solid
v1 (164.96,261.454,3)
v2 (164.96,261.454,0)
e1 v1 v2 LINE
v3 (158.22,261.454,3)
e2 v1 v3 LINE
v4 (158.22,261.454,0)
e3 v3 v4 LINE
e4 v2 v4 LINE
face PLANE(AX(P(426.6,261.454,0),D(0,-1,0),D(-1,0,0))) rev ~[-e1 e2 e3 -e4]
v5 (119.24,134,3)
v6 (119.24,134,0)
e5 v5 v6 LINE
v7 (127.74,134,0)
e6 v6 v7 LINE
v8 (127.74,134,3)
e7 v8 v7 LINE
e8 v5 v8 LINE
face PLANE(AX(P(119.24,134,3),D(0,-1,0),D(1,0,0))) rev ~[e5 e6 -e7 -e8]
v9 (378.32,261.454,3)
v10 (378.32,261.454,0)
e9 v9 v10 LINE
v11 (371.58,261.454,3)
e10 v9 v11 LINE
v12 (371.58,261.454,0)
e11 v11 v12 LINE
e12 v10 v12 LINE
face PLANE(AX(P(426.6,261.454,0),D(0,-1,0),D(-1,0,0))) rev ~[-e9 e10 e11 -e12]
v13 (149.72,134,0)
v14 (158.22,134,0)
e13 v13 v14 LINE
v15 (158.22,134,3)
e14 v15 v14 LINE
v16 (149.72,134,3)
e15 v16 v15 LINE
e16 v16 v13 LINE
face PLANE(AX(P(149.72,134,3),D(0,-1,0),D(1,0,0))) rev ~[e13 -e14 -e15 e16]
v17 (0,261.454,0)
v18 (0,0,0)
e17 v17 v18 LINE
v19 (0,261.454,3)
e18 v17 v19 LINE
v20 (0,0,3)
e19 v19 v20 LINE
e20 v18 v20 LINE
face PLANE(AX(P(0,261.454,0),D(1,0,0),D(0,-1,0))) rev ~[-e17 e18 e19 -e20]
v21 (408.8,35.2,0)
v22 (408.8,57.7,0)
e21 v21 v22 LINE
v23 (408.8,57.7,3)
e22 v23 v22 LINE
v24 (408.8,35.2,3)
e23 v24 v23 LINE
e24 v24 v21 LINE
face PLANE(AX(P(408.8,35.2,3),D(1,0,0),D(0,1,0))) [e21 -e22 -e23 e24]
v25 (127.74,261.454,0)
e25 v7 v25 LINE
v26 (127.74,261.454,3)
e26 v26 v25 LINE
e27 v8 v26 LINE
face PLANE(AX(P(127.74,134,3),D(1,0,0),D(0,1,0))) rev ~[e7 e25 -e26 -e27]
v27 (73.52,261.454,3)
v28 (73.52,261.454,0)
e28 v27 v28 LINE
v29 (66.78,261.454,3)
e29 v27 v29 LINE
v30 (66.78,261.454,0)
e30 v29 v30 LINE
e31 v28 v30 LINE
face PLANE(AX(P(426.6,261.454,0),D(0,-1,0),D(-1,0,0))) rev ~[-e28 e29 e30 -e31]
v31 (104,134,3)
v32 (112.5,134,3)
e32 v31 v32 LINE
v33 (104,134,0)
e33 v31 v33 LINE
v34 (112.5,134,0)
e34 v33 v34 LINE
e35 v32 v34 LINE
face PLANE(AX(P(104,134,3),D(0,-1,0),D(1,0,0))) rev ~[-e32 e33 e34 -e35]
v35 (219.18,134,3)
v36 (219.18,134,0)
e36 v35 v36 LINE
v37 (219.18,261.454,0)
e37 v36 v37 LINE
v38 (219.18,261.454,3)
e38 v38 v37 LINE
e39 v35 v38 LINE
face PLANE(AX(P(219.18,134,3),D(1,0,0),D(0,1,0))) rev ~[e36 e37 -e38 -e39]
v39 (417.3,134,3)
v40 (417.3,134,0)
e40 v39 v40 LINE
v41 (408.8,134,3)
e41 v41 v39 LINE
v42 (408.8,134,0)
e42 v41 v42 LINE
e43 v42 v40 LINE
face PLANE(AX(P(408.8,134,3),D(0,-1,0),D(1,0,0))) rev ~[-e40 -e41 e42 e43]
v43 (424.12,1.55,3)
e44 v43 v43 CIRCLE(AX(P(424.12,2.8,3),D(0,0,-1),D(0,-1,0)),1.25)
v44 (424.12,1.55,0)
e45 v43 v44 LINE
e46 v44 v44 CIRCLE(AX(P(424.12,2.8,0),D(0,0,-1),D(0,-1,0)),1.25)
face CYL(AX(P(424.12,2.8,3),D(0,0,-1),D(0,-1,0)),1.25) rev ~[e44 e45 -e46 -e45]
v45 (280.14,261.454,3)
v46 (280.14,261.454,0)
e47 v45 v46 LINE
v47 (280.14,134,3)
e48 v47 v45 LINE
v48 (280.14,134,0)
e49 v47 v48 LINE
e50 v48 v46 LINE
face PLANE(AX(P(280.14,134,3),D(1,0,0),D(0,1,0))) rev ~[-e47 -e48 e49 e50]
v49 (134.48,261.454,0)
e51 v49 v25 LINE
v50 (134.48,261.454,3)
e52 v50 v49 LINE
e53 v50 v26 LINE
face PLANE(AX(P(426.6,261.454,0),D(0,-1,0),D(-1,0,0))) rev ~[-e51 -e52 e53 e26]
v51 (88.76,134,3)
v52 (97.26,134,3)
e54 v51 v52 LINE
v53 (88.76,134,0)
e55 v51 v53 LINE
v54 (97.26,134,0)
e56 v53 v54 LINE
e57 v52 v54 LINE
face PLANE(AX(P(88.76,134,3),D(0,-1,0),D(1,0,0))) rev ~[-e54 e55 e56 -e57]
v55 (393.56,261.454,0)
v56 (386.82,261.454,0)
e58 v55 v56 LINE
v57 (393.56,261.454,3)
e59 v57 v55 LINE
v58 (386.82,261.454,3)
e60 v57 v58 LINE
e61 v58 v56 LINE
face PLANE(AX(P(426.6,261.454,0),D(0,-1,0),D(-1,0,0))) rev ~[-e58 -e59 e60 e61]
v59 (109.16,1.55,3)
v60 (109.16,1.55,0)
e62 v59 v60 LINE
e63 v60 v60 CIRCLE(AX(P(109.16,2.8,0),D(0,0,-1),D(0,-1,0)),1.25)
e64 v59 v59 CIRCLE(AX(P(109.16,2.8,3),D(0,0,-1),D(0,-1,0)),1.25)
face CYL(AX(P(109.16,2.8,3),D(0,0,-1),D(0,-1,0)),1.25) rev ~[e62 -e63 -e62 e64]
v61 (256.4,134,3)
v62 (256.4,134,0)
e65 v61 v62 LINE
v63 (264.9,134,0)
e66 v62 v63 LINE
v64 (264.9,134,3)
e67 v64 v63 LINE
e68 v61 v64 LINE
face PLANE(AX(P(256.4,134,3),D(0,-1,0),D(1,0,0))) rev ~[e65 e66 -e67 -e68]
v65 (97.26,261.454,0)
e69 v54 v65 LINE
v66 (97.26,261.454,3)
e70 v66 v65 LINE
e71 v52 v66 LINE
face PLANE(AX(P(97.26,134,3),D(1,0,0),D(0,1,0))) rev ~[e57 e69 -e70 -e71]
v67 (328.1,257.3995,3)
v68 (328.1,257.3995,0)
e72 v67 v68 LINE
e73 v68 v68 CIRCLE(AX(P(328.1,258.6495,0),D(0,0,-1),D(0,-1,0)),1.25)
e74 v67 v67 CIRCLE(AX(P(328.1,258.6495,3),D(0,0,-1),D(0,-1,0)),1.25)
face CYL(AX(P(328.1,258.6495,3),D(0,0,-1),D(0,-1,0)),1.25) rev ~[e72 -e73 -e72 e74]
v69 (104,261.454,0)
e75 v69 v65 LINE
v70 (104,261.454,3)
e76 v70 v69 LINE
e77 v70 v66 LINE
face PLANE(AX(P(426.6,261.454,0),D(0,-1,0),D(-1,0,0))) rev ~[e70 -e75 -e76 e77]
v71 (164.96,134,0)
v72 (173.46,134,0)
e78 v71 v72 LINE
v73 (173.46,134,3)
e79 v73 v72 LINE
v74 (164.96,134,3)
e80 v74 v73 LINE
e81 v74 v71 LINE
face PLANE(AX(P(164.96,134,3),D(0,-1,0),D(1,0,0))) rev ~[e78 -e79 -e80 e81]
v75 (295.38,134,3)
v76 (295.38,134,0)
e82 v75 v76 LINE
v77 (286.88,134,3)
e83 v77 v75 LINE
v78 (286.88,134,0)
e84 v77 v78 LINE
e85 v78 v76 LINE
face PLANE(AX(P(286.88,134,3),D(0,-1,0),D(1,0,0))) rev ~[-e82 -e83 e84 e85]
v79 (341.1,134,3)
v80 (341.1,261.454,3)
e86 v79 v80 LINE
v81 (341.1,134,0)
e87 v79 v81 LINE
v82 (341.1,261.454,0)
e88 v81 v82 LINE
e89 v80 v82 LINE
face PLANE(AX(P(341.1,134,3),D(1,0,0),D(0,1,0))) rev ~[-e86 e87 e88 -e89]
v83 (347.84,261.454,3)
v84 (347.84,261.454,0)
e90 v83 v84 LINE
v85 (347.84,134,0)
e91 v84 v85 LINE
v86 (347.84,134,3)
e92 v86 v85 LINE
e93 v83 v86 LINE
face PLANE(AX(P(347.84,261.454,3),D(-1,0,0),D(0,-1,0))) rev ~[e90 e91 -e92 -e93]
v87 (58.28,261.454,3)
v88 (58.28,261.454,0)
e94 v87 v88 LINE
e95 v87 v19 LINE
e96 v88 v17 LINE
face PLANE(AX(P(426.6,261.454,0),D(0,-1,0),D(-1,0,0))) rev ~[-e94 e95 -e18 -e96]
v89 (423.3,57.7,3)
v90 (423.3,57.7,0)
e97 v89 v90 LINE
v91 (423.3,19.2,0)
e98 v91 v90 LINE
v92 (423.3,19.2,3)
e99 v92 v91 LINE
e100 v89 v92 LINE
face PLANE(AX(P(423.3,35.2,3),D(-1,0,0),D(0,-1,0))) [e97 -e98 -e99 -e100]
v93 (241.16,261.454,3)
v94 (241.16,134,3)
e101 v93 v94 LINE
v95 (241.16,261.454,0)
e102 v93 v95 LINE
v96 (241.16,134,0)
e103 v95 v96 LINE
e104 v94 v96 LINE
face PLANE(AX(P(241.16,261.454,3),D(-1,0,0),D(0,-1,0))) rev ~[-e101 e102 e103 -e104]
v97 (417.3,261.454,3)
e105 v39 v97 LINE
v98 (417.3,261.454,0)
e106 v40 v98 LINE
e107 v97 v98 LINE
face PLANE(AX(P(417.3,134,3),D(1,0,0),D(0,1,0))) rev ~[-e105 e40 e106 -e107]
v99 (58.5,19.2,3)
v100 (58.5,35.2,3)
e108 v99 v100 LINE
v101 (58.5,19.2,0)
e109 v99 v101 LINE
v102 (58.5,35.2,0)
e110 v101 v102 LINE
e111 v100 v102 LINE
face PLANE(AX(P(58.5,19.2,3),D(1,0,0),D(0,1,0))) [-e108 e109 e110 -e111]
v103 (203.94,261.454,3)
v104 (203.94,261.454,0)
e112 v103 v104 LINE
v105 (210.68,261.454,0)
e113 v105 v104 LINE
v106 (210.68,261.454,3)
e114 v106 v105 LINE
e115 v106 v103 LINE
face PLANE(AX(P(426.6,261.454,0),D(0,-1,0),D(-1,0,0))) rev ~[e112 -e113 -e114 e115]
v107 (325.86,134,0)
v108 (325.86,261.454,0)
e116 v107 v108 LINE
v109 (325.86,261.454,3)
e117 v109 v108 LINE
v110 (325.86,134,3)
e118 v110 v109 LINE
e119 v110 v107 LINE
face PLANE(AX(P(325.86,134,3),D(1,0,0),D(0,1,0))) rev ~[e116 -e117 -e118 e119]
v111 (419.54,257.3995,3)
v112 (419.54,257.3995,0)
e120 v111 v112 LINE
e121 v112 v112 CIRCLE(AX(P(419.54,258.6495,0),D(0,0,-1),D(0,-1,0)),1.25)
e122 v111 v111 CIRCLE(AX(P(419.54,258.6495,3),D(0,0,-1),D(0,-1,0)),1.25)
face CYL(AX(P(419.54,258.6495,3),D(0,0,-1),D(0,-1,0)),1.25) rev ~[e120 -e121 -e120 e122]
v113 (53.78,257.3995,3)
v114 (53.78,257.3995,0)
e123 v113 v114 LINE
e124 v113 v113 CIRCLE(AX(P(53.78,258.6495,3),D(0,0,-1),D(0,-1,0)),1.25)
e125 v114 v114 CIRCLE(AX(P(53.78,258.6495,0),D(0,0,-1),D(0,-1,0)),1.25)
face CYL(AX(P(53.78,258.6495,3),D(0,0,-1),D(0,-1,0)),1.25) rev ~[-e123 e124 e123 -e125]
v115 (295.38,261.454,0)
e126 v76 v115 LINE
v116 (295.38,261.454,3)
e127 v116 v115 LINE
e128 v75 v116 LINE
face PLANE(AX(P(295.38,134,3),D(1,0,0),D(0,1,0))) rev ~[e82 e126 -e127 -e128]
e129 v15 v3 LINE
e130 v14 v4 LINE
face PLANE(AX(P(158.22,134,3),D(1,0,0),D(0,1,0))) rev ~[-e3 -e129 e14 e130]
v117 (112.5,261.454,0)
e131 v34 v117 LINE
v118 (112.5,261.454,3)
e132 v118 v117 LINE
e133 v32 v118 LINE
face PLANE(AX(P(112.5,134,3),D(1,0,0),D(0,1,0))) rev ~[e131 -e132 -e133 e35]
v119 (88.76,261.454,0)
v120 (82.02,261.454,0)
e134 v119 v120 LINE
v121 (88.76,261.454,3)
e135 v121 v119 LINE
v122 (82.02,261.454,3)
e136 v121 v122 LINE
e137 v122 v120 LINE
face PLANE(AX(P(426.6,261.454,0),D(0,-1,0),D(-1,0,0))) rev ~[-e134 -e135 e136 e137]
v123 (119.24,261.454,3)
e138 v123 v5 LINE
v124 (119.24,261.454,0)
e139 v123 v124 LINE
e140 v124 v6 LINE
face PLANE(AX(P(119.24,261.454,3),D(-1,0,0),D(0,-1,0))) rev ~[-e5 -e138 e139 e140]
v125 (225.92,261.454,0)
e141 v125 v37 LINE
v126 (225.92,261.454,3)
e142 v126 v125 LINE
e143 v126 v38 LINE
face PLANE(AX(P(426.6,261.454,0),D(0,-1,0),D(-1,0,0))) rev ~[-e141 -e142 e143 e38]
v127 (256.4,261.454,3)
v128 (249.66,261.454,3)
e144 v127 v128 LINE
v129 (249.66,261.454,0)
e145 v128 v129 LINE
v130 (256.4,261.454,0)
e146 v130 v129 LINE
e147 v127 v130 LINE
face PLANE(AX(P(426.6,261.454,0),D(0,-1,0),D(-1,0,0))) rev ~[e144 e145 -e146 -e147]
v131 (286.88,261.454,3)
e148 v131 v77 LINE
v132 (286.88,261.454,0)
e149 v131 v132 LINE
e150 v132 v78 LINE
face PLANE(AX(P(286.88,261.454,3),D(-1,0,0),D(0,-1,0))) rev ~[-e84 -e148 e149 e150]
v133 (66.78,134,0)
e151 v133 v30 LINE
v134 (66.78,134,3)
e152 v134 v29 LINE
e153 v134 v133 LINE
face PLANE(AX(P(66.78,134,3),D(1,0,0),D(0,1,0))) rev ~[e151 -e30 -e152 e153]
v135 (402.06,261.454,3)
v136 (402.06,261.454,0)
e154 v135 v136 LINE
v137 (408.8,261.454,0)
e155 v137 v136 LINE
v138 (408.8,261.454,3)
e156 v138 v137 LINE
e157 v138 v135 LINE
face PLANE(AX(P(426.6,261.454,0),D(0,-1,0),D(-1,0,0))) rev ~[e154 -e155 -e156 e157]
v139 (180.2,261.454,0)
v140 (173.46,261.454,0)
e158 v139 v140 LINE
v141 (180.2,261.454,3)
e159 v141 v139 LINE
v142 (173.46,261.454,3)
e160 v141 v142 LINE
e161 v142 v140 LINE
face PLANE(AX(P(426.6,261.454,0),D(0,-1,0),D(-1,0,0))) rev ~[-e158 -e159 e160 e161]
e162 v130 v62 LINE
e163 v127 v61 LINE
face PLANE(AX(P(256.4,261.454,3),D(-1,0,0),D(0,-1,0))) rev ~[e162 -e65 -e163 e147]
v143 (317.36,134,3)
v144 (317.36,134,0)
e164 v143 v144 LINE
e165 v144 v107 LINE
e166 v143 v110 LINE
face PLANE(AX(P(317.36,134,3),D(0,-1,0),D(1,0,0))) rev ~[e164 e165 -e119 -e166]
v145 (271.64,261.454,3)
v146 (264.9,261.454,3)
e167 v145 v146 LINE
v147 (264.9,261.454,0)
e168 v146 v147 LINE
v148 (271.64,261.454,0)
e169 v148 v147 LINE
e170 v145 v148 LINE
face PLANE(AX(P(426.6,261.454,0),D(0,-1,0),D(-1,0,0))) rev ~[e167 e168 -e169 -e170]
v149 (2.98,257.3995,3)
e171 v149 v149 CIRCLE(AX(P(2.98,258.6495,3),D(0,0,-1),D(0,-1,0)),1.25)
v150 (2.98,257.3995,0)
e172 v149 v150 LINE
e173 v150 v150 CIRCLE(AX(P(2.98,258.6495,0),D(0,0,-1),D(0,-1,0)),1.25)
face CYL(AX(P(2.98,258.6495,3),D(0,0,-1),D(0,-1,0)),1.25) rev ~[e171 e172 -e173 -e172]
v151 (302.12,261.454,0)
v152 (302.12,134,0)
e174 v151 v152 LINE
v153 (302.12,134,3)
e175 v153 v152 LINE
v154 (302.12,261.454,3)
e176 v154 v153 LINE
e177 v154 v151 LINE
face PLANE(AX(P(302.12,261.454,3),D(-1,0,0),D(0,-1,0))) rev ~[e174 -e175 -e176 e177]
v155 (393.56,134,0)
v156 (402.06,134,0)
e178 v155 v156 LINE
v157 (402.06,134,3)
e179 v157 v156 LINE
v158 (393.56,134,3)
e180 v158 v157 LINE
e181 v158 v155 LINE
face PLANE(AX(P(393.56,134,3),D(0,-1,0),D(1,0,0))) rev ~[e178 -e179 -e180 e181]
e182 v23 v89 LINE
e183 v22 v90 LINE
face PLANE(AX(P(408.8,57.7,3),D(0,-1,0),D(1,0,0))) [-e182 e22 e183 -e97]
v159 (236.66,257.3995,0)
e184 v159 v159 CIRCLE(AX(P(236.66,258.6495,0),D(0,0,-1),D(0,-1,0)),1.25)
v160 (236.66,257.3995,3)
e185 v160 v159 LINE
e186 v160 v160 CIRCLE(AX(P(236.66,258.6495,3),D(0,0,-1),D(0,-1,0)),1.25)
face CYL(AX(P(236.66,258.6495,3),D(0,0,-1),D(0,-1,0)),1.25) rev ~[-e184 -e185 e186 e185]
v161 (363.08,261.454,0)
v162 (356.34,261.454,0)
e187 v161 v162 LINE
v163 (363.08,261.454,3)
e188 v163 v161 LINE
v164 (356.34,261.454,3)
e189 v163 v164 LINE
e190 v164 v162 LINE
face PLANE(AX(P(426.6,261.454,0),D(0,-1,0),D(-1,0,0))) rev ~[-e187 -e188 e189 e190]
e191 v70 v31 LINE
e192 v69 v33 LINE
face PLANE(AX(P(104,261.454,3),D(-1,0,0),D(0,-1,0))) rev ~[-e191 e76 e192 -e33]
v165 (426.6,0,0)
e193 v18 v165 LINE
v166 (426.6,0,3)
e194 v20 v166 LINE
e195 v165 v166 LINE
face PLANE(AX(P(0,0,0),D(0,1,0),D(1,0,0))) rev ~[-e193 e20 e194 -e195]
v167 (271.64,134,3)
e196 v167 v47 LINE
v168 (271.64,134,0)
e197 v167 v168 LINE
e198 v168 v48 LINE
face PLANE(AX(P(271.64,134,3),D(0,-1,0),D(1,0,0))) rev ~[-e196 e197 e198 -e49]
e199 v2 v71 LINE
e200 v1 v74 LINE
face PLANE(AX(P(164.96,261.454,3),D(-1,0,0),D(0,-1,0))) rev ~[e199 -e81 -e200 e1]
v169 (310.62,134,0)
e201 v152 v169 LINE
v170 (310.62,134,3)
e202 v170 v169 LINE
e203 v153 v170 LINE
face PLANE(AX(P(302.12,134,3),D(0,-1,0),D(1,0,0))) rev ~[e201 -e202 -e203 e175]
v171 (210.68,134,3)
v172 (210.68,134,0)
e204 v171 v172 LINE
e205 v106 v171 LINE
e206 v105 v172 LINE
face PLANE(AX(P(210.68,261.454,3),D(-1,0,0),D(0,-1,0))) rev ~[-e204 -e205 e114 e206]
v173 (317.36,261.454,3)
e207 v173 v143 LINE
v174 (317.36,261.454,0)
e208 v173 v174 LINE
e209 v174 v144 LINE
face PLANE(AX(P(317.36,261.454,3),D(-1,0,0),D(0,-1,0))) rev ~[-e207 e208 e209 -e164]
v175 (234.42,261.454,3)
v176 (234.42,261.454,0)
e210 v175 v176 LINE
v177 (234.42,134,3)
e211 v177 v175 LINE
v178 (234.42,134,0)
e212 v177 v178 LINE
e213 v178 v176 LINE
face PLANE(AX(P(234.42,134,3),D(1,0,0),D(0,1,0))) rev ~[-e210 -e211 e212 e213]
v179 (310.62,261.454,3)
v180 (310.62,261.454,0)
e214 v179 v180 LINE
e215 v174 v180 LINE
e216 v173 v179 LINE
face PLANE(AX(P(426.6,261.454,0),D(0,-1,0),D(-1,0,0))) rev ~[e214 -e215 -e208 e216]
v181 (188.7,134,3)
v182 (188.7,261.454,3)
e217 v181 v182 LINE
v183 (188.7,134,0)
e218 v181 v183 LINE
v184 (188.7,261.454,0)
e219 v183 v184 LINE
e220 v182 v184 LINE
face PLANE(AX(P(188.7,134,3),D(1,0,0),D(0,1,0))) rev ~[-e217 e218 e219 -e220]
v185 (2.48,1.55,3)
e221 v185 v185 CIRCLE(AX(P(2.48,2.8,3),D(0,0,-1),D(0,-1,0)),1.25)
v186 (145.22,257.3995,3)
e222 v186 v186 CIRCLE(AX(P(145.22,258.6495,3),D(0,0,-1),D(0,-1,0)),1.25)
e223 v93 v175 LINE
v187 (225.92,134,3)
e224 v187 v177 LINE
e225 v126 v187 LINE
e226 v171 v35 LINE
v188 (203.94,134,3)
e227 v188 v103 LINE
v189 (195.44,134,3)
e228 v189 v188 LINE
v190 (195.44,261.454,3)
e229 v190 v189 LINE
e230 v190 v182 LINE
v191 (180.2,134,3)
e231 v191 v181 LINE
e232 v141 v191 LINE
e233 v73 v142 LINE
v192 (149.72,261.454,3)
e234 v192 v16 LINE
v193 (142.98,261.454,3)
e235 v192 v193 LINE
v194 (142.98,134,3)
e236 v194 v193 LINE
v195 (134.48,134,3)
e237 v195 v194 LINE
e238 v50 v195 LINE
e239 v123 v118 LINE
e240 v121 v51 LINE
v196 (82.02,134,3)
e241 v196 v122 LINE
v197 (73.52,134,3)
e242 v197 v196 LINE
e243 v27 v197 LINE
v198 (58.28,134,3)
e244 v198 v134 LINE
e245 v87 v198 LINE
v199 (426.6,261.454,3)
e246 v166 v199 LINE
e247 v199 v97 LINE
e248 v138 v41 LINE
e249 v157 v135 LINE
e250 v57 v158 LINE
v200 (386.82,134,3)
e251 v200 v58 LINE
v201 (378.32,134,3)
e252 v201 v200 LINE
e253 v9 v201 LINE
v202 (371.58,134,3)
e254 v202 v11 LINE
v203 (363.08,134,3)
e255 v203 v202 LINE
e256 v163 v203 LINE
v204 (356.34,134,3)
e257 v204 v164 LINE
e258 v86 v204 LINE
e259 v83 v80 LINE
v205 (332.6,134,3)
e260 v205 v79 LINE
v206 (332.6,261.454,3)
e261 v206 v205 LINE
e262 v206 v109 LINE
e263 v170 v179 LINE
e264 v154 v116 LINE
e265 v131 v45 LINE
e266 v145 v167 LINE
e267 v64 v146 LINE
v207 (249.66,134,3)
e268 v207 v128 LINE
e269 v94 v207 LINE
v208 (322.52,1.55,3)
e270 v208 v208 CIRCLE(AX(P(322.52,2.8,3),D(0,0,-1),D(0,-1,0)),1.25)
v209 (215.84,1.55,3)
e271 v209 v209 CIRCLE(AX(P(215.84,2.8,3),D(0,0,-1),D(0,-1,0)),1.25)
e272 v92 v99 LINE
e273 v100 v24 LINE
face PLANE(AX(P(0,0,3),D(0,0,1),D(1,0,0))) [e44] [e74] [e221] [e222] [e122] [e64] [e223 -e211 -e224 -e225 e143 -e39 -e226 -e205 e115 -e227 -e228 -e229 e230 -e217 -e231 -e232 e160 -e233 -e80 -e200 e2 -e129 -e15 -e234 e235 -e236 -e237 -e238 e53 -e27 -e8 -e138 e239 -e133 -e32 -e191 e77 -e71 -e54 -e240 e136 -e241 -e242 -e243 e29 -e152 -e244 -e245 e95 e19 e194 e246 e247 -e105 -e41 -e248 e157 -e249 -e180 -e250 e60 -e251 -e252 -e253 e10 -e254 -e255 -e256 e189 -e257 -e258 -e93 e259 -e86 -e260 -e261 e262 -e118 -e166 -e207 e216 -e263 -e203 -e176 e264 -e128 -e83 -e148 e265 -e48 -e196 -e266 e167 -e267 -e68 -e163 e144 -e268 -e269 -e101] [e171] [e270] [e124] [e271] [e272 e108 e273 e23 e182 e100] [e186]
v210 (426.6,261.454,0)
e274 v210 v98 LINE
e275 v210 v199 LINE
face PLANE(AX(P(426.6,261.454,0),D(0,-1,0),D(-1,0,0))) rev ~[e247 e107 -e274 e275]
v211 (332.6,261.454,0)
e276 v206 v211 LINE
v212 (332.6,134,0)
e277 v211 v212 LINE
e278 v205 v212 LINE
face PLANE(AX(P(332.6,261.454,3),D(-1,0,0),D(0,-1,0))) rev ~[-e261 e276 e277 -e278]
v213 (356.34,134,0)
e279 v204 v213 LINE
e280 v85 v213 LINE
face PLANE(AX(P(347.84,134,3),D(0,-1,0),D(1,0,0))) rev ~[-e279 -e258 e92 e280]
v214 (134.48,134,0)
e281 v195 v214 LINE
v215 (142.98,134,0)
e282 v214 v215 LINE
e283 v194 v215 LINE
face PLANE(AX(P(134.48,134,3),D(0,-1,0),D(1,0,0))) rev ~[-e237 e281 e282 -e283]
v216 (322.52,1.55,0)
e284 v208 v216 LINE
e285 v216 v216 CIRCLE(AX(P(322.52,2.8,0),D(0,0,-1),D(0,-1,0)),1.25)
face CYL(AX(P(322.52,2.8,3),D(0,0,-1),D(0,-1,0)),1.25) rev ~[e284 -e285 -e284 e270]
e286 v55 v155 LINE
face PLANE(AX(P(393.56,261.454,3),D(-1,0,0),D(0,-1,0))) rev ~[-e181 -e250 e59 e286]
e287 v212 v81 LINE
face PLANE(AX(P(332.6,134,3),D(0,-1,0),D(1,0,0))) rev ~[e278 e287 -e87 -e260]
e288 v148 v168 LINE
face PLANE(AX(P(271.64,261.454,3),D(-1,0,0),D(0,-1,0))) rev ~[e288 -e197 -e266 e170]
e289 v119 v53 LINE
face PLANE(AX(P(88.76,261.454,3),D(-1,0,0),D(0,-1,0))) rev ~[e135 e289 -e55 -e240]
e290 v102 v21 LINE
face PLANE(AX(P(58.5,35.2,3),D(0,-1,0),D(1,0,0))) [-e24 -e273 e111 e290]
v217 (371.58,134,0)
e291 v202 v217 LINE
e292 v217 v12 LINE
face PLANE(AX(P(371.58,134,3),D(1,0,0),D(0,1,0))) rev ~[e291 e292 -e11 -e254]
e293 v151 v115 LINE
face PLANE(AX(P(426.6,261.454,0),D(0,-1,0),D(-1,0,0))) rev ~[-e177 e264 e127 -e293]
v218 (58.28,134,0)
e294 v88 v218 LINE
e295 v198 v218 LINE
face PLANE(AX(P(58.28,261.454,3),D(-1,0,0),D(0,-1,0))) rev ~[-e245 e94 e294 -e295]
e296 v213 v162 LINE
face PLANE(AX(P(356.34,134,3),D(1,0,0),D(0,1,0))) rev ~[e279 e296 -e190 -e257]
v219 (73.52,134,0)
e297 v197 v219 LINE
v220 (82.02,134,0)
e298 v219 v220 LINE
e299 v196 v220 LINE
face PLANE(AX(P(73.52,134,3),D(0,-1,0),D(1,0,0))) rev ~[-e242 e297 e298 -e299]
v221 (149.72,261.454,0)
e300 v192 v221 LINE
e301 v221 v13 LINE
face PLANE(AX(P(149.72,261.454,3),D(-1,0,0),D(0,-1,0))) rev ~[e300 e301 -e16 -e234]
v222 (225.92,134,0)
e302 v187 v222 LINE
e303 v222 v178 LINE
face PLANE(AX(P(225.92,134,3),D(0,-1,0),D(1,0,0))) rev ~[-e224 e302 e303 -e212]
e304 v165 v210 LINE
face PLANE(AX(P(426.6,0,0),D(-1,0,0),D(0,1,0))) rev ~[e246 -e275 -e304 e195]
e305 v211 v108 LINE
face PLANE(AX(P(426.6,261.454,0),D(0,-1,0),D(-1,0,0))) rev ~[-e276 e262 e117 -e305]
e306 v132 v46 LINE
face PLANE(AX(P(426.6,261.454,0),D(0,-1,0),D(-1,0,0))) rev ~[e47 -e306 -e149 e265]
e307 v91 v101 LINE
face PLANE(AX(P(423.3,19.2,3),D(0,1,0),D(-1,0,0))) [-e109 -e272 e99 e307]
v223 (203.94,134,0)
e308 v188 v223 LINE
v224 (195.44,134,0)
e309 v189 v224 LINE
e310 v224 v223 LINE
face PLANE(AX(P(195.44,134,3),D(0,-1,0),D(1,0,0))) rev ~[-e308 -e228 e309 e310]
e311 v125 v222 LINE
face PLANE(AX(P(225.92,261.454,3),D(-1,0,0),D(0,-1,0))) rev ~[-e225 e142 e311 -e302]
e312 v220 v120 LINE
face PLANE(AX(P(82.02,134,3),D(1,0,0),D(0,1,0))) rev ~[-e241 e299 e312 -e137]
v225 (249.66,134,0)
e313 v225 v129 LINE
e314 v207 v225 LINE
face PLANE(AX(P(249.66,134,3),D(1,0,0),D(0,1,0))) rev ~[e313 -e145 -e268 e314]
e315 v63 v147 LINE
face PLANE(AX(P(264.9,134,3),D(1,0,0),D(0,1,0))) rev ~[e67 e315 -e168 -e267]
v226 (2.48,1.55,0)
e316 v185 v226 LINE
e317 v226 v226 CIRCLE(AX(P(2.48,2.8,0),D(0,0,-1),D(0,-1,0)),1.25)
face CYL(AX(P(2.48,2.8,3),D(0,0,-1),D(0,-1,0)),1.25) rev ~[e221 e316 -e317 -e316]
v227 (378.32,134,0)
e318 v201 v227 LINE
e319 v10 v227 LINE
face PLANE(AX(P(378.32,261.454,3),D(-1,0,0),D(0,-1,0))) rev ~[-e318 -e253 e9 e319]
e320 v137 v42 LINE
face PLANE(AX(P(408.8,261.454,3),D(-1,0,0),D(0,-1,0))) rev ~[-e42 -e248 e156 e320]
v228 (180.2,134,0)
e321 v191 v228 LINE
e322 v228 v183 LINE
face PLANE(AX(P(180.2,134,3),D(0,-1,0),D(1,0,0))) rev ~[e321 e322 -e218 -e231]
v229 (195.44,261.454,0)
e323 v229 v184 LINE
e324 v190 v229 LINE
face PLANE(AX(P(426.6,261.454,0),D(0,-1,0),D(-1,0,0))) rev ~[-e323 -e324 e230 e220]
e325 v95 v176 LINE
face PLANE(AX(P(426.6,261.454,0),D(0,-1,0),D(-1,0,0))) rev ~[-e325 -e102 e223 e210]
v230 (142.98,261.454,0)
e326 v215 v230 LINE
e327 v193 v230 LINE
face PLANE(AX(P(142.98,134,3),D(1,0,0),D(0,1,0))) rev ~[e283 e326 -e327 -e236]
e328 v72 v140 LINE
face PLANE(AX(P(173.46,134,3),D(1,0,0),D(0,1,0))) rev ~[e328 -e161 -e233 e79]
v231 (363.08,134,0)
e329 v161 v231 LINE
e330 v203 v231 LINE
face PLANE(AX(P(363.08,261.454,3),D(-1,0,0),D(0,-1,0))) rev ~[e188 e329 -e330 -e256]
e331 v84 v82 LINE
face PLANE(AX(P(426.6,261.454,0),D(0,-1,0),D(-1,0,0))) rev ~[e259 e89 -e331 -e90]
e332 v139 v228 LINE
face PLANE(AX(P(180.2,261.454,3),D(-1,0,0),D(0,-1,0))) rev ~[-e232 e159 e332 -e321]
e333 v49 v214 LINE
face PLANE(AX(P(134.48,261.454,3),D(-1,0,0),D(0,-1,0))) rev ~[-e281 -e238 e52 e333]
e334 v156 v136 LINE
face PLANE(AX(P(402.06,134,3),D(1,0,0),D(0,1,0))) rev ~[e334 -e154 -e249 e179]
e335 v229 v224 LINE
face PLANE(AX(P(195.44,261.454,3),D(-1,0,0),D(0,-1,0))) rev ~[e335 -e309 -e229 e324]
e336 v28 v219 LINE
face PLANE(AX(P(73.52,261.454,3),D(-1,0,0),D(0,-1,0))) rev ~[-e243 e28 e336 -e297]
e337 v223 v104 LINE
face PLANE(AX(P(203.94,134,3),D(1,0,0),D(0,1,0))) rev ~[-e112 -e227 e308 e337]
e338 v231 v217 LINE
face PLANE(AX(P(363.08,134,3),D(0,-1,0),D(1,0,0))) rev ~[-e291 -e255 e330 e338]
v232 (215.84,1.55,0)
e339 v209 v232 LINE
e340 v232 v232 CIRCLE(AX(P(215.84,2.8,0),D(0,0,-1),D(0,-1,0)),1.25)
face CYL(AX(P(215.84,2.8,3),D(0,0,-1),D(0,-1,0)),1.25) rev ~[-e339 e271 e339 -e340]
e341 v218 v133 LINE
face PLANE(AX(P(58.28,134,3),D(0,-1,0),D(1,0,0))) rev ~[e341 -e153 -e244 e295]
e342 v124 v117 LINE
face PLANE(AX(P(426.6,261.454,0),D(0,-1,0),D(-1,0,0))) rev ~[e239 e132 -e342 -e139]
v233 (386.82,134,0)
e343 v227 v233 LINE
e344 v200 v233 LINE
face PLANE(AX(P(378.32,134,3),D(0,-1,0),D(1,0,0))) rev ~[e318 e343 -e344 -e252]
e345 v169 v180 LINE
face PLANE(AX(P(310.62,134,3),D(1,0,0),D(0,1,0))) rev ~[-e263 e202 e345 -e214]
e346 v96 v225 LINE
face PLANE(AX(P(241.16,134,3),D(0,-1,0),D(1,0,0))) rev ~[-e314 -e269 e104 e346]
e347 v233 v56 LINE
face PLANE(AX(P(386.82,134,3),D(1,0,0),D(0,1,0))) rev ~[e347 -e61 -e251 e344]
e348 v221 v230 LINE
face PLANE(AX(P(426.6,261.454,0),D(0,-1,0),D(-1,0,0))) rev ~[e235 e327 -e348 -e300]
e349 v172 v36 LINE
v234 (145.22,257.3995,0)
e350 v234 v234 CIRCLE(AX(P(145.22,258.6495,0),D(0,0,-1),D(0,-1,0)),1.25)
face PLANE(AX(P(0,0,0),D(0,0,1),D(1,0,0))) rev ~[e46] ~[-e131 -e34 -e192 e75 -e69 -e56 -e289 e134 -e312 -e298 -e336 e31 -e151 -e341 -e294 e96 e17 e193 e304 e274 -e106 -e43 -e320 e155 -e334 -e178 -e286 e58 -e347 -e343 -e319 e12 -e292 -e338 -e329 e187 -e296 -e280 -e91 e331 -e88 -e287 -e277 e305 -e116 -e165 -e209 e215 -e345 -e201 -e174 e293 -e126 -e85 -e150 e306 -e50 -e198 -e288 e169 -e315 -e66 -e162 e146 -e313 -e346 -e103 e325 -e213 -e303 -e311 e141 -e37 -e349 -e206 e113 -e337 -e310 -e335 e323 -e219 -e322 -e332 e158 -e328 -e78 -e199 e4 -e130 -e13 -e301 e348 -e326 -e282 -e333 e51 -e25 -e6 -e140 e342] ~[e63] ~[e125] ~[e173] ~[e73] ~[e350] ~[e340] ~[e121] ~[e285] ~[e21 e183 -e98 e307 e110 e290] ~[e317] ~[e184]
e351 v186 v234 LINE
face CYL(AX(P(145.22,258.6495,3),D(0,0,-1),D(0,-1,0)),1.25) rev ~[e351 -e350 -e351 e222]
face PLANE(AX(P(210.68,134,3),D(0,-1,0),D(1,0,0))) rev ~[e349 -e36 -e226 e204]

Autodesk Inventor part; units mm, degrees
ref_plane "YZ Plane" through (0, 0, 0) normal (1, 0, 0) x (0, 1, 0)
ref_plane "XZ Plane" through (0, 0, 0) normal (0, 1, 0) x (-1, 0, 0)
ref_plane "XY Plane" through (0, 0, 0) normal (0, 0, 1) x (1, 0, 0)
sketch "Sketch1" plane through (0, 0, 0) normal (0, 0, 1) x (1, 0, 0)
  line L0 (0, 0) -> (426.6, 0)
  line L1 (426.6, 0) -> (426.6, 261.454)
  line L2 (426.6, 261.454) -> (0, 261.454)
  line L3 (0, 261.454) -> (0, 0)
  point P0 (2.48, 2.8)
  point P1 (2.48, 258.65)
  dimension "d0" = 426.6
  dimension "d1" = 261.454
  dimension "d2" = 2.8
  dimension "d3" = 2.48
  dimension "d4" = 255.85
  dimension "d5" = 2.48
extrude "Extrusion1" add sketch "Sketch1" along normal blind 3
sketch "Sketch3" plane through (0, 0, 3) normal (0, 0, 1) x (1, 0, 0)
  line L0 (0, 261.454) -> (0, 0) projected
  line L1 (426.6, 0) -> (426.6, 261.454) projected
  line L2 (0, 0) -> (426.6, 0) projected
  line L3 (426.6, 261.454) -> (0, 261.454) projected
  line L4 (423.3, 19.2) -> (58.5, 19.2)
  line L5 (58.5, 19.2) -> (58.5, 35.2)
  line L6 (58.5, 35.2) -> (423.3, 35.2)
  line L7 (423.3, 35.2) -> (423.3, 19.2)
  line L8 (423.3, 35.2) -> (408.8, 35.2)
  line L9 (408.8, 35.2) -> (408.8, 57.7)
  line L10 (408.8, 57.7) -> (423.3, 57.7)
  line L11 (423.3, 57.7) -> (423.3, 35.2)
  dimension "d22" = 364.8
  dimension "d23" = 16
  dimension "d24" = 19.2
  dimension "d25" = 3.3
  dimension "d26" = 14.5
  dimension "d30" = 38.5
extrude "Extrusion2" cut sketch "Sketch3" against normal blind 3 contours L4 L5 L6 L7 | L6 L9 L10 L11
sketch "Sketch4" plane through (0, 0, 3) normal (0, 0, 1) x (1, 0, 0)
  line L0 (426.6, 261.454) -> (0, 261.454) projected
  line L1 (426.6, 0) -> (426.6, 261.454) projected
  line L2 (0, 0) -> (426.6, 0) projected
  line L3 (408.8, 35.2) -> (408.8, 57.7) projected
  line L4 (408.8, 134) -> (417.3, 134)
  line L5 (417.3, 134) -> (417.3, 261.454)
  line L6 (417.3, 261.454) -> (408.8, 261.454)
  line L7 (408.8, 261.454) -> (408.8, 134)
  dimension "d36" = 8.5
  dimension "d38" = 134
extrude "Extrusion3" cut sketch "Sketch4" against normal blind 3
pattern_linear "Rectangular Pattern2" count 24 spacing 15.24 along (-1, 0, 0) of "Extrusion3"
sketch "Sketch2" plane through (0, 0, 3) normal (0, 0, 1) x (1, 0, 0)
  line L0 (0, 261.454) -> (0, 0) projected
  line L1 (0, 0) -> (426.6, 0) projected
  line L2 (426.6, 261.454) -> (0, 261.454) projected
  line L3 (426.6, 0) -> (426.6, 261.454) projected
  point P0 (2.48, 2.8)
  point P1 (2.98, 258.6495)
  point P2 (109.16, 2.8)
  point P3 (215.84, 2.8)
  point P4 (322.52, 2.8)
  point P5 (424.12, 2.8)
  point P6 (53.78, 258.6495)
  point P7 (145.22, 258.6495)
  point P8 (236.66, 258.6495)
  point P9 (328.1, 258.6495)
  point P10 (419.54, 258.6495)
  dimension "d8" = 2.48
  dimension "d9" = 2.8
  dimension "d10" = 255.85
  dimension "d11" = 2.98
  dimension "d57" = 106.68
  dimension "d62" = 421.64
  dimension "d63" = 50.8
  dimension "d66" = 91.44
hole "Hole1" at (2.48, 2.8, 3) at (2.98, 258.6495, 3) at (109.16, 2.8, 3) at (215.84, 2.8, 3) at (322.52, 2.8, 3) at (424.12, 2.8, 3) at (419.54, 258.6495, 3) at (145.22, 258.6495, 3) at (236.66, 258.6495, 3) at (328.1, 258.6495, 3) at (53.78, 258.6495, 3) direction (0, 0, -1) diameter 2.5 end through all
equation "\"d5\" = d3"
properties part number "subrack_frontpanel" material "Aluminum"
